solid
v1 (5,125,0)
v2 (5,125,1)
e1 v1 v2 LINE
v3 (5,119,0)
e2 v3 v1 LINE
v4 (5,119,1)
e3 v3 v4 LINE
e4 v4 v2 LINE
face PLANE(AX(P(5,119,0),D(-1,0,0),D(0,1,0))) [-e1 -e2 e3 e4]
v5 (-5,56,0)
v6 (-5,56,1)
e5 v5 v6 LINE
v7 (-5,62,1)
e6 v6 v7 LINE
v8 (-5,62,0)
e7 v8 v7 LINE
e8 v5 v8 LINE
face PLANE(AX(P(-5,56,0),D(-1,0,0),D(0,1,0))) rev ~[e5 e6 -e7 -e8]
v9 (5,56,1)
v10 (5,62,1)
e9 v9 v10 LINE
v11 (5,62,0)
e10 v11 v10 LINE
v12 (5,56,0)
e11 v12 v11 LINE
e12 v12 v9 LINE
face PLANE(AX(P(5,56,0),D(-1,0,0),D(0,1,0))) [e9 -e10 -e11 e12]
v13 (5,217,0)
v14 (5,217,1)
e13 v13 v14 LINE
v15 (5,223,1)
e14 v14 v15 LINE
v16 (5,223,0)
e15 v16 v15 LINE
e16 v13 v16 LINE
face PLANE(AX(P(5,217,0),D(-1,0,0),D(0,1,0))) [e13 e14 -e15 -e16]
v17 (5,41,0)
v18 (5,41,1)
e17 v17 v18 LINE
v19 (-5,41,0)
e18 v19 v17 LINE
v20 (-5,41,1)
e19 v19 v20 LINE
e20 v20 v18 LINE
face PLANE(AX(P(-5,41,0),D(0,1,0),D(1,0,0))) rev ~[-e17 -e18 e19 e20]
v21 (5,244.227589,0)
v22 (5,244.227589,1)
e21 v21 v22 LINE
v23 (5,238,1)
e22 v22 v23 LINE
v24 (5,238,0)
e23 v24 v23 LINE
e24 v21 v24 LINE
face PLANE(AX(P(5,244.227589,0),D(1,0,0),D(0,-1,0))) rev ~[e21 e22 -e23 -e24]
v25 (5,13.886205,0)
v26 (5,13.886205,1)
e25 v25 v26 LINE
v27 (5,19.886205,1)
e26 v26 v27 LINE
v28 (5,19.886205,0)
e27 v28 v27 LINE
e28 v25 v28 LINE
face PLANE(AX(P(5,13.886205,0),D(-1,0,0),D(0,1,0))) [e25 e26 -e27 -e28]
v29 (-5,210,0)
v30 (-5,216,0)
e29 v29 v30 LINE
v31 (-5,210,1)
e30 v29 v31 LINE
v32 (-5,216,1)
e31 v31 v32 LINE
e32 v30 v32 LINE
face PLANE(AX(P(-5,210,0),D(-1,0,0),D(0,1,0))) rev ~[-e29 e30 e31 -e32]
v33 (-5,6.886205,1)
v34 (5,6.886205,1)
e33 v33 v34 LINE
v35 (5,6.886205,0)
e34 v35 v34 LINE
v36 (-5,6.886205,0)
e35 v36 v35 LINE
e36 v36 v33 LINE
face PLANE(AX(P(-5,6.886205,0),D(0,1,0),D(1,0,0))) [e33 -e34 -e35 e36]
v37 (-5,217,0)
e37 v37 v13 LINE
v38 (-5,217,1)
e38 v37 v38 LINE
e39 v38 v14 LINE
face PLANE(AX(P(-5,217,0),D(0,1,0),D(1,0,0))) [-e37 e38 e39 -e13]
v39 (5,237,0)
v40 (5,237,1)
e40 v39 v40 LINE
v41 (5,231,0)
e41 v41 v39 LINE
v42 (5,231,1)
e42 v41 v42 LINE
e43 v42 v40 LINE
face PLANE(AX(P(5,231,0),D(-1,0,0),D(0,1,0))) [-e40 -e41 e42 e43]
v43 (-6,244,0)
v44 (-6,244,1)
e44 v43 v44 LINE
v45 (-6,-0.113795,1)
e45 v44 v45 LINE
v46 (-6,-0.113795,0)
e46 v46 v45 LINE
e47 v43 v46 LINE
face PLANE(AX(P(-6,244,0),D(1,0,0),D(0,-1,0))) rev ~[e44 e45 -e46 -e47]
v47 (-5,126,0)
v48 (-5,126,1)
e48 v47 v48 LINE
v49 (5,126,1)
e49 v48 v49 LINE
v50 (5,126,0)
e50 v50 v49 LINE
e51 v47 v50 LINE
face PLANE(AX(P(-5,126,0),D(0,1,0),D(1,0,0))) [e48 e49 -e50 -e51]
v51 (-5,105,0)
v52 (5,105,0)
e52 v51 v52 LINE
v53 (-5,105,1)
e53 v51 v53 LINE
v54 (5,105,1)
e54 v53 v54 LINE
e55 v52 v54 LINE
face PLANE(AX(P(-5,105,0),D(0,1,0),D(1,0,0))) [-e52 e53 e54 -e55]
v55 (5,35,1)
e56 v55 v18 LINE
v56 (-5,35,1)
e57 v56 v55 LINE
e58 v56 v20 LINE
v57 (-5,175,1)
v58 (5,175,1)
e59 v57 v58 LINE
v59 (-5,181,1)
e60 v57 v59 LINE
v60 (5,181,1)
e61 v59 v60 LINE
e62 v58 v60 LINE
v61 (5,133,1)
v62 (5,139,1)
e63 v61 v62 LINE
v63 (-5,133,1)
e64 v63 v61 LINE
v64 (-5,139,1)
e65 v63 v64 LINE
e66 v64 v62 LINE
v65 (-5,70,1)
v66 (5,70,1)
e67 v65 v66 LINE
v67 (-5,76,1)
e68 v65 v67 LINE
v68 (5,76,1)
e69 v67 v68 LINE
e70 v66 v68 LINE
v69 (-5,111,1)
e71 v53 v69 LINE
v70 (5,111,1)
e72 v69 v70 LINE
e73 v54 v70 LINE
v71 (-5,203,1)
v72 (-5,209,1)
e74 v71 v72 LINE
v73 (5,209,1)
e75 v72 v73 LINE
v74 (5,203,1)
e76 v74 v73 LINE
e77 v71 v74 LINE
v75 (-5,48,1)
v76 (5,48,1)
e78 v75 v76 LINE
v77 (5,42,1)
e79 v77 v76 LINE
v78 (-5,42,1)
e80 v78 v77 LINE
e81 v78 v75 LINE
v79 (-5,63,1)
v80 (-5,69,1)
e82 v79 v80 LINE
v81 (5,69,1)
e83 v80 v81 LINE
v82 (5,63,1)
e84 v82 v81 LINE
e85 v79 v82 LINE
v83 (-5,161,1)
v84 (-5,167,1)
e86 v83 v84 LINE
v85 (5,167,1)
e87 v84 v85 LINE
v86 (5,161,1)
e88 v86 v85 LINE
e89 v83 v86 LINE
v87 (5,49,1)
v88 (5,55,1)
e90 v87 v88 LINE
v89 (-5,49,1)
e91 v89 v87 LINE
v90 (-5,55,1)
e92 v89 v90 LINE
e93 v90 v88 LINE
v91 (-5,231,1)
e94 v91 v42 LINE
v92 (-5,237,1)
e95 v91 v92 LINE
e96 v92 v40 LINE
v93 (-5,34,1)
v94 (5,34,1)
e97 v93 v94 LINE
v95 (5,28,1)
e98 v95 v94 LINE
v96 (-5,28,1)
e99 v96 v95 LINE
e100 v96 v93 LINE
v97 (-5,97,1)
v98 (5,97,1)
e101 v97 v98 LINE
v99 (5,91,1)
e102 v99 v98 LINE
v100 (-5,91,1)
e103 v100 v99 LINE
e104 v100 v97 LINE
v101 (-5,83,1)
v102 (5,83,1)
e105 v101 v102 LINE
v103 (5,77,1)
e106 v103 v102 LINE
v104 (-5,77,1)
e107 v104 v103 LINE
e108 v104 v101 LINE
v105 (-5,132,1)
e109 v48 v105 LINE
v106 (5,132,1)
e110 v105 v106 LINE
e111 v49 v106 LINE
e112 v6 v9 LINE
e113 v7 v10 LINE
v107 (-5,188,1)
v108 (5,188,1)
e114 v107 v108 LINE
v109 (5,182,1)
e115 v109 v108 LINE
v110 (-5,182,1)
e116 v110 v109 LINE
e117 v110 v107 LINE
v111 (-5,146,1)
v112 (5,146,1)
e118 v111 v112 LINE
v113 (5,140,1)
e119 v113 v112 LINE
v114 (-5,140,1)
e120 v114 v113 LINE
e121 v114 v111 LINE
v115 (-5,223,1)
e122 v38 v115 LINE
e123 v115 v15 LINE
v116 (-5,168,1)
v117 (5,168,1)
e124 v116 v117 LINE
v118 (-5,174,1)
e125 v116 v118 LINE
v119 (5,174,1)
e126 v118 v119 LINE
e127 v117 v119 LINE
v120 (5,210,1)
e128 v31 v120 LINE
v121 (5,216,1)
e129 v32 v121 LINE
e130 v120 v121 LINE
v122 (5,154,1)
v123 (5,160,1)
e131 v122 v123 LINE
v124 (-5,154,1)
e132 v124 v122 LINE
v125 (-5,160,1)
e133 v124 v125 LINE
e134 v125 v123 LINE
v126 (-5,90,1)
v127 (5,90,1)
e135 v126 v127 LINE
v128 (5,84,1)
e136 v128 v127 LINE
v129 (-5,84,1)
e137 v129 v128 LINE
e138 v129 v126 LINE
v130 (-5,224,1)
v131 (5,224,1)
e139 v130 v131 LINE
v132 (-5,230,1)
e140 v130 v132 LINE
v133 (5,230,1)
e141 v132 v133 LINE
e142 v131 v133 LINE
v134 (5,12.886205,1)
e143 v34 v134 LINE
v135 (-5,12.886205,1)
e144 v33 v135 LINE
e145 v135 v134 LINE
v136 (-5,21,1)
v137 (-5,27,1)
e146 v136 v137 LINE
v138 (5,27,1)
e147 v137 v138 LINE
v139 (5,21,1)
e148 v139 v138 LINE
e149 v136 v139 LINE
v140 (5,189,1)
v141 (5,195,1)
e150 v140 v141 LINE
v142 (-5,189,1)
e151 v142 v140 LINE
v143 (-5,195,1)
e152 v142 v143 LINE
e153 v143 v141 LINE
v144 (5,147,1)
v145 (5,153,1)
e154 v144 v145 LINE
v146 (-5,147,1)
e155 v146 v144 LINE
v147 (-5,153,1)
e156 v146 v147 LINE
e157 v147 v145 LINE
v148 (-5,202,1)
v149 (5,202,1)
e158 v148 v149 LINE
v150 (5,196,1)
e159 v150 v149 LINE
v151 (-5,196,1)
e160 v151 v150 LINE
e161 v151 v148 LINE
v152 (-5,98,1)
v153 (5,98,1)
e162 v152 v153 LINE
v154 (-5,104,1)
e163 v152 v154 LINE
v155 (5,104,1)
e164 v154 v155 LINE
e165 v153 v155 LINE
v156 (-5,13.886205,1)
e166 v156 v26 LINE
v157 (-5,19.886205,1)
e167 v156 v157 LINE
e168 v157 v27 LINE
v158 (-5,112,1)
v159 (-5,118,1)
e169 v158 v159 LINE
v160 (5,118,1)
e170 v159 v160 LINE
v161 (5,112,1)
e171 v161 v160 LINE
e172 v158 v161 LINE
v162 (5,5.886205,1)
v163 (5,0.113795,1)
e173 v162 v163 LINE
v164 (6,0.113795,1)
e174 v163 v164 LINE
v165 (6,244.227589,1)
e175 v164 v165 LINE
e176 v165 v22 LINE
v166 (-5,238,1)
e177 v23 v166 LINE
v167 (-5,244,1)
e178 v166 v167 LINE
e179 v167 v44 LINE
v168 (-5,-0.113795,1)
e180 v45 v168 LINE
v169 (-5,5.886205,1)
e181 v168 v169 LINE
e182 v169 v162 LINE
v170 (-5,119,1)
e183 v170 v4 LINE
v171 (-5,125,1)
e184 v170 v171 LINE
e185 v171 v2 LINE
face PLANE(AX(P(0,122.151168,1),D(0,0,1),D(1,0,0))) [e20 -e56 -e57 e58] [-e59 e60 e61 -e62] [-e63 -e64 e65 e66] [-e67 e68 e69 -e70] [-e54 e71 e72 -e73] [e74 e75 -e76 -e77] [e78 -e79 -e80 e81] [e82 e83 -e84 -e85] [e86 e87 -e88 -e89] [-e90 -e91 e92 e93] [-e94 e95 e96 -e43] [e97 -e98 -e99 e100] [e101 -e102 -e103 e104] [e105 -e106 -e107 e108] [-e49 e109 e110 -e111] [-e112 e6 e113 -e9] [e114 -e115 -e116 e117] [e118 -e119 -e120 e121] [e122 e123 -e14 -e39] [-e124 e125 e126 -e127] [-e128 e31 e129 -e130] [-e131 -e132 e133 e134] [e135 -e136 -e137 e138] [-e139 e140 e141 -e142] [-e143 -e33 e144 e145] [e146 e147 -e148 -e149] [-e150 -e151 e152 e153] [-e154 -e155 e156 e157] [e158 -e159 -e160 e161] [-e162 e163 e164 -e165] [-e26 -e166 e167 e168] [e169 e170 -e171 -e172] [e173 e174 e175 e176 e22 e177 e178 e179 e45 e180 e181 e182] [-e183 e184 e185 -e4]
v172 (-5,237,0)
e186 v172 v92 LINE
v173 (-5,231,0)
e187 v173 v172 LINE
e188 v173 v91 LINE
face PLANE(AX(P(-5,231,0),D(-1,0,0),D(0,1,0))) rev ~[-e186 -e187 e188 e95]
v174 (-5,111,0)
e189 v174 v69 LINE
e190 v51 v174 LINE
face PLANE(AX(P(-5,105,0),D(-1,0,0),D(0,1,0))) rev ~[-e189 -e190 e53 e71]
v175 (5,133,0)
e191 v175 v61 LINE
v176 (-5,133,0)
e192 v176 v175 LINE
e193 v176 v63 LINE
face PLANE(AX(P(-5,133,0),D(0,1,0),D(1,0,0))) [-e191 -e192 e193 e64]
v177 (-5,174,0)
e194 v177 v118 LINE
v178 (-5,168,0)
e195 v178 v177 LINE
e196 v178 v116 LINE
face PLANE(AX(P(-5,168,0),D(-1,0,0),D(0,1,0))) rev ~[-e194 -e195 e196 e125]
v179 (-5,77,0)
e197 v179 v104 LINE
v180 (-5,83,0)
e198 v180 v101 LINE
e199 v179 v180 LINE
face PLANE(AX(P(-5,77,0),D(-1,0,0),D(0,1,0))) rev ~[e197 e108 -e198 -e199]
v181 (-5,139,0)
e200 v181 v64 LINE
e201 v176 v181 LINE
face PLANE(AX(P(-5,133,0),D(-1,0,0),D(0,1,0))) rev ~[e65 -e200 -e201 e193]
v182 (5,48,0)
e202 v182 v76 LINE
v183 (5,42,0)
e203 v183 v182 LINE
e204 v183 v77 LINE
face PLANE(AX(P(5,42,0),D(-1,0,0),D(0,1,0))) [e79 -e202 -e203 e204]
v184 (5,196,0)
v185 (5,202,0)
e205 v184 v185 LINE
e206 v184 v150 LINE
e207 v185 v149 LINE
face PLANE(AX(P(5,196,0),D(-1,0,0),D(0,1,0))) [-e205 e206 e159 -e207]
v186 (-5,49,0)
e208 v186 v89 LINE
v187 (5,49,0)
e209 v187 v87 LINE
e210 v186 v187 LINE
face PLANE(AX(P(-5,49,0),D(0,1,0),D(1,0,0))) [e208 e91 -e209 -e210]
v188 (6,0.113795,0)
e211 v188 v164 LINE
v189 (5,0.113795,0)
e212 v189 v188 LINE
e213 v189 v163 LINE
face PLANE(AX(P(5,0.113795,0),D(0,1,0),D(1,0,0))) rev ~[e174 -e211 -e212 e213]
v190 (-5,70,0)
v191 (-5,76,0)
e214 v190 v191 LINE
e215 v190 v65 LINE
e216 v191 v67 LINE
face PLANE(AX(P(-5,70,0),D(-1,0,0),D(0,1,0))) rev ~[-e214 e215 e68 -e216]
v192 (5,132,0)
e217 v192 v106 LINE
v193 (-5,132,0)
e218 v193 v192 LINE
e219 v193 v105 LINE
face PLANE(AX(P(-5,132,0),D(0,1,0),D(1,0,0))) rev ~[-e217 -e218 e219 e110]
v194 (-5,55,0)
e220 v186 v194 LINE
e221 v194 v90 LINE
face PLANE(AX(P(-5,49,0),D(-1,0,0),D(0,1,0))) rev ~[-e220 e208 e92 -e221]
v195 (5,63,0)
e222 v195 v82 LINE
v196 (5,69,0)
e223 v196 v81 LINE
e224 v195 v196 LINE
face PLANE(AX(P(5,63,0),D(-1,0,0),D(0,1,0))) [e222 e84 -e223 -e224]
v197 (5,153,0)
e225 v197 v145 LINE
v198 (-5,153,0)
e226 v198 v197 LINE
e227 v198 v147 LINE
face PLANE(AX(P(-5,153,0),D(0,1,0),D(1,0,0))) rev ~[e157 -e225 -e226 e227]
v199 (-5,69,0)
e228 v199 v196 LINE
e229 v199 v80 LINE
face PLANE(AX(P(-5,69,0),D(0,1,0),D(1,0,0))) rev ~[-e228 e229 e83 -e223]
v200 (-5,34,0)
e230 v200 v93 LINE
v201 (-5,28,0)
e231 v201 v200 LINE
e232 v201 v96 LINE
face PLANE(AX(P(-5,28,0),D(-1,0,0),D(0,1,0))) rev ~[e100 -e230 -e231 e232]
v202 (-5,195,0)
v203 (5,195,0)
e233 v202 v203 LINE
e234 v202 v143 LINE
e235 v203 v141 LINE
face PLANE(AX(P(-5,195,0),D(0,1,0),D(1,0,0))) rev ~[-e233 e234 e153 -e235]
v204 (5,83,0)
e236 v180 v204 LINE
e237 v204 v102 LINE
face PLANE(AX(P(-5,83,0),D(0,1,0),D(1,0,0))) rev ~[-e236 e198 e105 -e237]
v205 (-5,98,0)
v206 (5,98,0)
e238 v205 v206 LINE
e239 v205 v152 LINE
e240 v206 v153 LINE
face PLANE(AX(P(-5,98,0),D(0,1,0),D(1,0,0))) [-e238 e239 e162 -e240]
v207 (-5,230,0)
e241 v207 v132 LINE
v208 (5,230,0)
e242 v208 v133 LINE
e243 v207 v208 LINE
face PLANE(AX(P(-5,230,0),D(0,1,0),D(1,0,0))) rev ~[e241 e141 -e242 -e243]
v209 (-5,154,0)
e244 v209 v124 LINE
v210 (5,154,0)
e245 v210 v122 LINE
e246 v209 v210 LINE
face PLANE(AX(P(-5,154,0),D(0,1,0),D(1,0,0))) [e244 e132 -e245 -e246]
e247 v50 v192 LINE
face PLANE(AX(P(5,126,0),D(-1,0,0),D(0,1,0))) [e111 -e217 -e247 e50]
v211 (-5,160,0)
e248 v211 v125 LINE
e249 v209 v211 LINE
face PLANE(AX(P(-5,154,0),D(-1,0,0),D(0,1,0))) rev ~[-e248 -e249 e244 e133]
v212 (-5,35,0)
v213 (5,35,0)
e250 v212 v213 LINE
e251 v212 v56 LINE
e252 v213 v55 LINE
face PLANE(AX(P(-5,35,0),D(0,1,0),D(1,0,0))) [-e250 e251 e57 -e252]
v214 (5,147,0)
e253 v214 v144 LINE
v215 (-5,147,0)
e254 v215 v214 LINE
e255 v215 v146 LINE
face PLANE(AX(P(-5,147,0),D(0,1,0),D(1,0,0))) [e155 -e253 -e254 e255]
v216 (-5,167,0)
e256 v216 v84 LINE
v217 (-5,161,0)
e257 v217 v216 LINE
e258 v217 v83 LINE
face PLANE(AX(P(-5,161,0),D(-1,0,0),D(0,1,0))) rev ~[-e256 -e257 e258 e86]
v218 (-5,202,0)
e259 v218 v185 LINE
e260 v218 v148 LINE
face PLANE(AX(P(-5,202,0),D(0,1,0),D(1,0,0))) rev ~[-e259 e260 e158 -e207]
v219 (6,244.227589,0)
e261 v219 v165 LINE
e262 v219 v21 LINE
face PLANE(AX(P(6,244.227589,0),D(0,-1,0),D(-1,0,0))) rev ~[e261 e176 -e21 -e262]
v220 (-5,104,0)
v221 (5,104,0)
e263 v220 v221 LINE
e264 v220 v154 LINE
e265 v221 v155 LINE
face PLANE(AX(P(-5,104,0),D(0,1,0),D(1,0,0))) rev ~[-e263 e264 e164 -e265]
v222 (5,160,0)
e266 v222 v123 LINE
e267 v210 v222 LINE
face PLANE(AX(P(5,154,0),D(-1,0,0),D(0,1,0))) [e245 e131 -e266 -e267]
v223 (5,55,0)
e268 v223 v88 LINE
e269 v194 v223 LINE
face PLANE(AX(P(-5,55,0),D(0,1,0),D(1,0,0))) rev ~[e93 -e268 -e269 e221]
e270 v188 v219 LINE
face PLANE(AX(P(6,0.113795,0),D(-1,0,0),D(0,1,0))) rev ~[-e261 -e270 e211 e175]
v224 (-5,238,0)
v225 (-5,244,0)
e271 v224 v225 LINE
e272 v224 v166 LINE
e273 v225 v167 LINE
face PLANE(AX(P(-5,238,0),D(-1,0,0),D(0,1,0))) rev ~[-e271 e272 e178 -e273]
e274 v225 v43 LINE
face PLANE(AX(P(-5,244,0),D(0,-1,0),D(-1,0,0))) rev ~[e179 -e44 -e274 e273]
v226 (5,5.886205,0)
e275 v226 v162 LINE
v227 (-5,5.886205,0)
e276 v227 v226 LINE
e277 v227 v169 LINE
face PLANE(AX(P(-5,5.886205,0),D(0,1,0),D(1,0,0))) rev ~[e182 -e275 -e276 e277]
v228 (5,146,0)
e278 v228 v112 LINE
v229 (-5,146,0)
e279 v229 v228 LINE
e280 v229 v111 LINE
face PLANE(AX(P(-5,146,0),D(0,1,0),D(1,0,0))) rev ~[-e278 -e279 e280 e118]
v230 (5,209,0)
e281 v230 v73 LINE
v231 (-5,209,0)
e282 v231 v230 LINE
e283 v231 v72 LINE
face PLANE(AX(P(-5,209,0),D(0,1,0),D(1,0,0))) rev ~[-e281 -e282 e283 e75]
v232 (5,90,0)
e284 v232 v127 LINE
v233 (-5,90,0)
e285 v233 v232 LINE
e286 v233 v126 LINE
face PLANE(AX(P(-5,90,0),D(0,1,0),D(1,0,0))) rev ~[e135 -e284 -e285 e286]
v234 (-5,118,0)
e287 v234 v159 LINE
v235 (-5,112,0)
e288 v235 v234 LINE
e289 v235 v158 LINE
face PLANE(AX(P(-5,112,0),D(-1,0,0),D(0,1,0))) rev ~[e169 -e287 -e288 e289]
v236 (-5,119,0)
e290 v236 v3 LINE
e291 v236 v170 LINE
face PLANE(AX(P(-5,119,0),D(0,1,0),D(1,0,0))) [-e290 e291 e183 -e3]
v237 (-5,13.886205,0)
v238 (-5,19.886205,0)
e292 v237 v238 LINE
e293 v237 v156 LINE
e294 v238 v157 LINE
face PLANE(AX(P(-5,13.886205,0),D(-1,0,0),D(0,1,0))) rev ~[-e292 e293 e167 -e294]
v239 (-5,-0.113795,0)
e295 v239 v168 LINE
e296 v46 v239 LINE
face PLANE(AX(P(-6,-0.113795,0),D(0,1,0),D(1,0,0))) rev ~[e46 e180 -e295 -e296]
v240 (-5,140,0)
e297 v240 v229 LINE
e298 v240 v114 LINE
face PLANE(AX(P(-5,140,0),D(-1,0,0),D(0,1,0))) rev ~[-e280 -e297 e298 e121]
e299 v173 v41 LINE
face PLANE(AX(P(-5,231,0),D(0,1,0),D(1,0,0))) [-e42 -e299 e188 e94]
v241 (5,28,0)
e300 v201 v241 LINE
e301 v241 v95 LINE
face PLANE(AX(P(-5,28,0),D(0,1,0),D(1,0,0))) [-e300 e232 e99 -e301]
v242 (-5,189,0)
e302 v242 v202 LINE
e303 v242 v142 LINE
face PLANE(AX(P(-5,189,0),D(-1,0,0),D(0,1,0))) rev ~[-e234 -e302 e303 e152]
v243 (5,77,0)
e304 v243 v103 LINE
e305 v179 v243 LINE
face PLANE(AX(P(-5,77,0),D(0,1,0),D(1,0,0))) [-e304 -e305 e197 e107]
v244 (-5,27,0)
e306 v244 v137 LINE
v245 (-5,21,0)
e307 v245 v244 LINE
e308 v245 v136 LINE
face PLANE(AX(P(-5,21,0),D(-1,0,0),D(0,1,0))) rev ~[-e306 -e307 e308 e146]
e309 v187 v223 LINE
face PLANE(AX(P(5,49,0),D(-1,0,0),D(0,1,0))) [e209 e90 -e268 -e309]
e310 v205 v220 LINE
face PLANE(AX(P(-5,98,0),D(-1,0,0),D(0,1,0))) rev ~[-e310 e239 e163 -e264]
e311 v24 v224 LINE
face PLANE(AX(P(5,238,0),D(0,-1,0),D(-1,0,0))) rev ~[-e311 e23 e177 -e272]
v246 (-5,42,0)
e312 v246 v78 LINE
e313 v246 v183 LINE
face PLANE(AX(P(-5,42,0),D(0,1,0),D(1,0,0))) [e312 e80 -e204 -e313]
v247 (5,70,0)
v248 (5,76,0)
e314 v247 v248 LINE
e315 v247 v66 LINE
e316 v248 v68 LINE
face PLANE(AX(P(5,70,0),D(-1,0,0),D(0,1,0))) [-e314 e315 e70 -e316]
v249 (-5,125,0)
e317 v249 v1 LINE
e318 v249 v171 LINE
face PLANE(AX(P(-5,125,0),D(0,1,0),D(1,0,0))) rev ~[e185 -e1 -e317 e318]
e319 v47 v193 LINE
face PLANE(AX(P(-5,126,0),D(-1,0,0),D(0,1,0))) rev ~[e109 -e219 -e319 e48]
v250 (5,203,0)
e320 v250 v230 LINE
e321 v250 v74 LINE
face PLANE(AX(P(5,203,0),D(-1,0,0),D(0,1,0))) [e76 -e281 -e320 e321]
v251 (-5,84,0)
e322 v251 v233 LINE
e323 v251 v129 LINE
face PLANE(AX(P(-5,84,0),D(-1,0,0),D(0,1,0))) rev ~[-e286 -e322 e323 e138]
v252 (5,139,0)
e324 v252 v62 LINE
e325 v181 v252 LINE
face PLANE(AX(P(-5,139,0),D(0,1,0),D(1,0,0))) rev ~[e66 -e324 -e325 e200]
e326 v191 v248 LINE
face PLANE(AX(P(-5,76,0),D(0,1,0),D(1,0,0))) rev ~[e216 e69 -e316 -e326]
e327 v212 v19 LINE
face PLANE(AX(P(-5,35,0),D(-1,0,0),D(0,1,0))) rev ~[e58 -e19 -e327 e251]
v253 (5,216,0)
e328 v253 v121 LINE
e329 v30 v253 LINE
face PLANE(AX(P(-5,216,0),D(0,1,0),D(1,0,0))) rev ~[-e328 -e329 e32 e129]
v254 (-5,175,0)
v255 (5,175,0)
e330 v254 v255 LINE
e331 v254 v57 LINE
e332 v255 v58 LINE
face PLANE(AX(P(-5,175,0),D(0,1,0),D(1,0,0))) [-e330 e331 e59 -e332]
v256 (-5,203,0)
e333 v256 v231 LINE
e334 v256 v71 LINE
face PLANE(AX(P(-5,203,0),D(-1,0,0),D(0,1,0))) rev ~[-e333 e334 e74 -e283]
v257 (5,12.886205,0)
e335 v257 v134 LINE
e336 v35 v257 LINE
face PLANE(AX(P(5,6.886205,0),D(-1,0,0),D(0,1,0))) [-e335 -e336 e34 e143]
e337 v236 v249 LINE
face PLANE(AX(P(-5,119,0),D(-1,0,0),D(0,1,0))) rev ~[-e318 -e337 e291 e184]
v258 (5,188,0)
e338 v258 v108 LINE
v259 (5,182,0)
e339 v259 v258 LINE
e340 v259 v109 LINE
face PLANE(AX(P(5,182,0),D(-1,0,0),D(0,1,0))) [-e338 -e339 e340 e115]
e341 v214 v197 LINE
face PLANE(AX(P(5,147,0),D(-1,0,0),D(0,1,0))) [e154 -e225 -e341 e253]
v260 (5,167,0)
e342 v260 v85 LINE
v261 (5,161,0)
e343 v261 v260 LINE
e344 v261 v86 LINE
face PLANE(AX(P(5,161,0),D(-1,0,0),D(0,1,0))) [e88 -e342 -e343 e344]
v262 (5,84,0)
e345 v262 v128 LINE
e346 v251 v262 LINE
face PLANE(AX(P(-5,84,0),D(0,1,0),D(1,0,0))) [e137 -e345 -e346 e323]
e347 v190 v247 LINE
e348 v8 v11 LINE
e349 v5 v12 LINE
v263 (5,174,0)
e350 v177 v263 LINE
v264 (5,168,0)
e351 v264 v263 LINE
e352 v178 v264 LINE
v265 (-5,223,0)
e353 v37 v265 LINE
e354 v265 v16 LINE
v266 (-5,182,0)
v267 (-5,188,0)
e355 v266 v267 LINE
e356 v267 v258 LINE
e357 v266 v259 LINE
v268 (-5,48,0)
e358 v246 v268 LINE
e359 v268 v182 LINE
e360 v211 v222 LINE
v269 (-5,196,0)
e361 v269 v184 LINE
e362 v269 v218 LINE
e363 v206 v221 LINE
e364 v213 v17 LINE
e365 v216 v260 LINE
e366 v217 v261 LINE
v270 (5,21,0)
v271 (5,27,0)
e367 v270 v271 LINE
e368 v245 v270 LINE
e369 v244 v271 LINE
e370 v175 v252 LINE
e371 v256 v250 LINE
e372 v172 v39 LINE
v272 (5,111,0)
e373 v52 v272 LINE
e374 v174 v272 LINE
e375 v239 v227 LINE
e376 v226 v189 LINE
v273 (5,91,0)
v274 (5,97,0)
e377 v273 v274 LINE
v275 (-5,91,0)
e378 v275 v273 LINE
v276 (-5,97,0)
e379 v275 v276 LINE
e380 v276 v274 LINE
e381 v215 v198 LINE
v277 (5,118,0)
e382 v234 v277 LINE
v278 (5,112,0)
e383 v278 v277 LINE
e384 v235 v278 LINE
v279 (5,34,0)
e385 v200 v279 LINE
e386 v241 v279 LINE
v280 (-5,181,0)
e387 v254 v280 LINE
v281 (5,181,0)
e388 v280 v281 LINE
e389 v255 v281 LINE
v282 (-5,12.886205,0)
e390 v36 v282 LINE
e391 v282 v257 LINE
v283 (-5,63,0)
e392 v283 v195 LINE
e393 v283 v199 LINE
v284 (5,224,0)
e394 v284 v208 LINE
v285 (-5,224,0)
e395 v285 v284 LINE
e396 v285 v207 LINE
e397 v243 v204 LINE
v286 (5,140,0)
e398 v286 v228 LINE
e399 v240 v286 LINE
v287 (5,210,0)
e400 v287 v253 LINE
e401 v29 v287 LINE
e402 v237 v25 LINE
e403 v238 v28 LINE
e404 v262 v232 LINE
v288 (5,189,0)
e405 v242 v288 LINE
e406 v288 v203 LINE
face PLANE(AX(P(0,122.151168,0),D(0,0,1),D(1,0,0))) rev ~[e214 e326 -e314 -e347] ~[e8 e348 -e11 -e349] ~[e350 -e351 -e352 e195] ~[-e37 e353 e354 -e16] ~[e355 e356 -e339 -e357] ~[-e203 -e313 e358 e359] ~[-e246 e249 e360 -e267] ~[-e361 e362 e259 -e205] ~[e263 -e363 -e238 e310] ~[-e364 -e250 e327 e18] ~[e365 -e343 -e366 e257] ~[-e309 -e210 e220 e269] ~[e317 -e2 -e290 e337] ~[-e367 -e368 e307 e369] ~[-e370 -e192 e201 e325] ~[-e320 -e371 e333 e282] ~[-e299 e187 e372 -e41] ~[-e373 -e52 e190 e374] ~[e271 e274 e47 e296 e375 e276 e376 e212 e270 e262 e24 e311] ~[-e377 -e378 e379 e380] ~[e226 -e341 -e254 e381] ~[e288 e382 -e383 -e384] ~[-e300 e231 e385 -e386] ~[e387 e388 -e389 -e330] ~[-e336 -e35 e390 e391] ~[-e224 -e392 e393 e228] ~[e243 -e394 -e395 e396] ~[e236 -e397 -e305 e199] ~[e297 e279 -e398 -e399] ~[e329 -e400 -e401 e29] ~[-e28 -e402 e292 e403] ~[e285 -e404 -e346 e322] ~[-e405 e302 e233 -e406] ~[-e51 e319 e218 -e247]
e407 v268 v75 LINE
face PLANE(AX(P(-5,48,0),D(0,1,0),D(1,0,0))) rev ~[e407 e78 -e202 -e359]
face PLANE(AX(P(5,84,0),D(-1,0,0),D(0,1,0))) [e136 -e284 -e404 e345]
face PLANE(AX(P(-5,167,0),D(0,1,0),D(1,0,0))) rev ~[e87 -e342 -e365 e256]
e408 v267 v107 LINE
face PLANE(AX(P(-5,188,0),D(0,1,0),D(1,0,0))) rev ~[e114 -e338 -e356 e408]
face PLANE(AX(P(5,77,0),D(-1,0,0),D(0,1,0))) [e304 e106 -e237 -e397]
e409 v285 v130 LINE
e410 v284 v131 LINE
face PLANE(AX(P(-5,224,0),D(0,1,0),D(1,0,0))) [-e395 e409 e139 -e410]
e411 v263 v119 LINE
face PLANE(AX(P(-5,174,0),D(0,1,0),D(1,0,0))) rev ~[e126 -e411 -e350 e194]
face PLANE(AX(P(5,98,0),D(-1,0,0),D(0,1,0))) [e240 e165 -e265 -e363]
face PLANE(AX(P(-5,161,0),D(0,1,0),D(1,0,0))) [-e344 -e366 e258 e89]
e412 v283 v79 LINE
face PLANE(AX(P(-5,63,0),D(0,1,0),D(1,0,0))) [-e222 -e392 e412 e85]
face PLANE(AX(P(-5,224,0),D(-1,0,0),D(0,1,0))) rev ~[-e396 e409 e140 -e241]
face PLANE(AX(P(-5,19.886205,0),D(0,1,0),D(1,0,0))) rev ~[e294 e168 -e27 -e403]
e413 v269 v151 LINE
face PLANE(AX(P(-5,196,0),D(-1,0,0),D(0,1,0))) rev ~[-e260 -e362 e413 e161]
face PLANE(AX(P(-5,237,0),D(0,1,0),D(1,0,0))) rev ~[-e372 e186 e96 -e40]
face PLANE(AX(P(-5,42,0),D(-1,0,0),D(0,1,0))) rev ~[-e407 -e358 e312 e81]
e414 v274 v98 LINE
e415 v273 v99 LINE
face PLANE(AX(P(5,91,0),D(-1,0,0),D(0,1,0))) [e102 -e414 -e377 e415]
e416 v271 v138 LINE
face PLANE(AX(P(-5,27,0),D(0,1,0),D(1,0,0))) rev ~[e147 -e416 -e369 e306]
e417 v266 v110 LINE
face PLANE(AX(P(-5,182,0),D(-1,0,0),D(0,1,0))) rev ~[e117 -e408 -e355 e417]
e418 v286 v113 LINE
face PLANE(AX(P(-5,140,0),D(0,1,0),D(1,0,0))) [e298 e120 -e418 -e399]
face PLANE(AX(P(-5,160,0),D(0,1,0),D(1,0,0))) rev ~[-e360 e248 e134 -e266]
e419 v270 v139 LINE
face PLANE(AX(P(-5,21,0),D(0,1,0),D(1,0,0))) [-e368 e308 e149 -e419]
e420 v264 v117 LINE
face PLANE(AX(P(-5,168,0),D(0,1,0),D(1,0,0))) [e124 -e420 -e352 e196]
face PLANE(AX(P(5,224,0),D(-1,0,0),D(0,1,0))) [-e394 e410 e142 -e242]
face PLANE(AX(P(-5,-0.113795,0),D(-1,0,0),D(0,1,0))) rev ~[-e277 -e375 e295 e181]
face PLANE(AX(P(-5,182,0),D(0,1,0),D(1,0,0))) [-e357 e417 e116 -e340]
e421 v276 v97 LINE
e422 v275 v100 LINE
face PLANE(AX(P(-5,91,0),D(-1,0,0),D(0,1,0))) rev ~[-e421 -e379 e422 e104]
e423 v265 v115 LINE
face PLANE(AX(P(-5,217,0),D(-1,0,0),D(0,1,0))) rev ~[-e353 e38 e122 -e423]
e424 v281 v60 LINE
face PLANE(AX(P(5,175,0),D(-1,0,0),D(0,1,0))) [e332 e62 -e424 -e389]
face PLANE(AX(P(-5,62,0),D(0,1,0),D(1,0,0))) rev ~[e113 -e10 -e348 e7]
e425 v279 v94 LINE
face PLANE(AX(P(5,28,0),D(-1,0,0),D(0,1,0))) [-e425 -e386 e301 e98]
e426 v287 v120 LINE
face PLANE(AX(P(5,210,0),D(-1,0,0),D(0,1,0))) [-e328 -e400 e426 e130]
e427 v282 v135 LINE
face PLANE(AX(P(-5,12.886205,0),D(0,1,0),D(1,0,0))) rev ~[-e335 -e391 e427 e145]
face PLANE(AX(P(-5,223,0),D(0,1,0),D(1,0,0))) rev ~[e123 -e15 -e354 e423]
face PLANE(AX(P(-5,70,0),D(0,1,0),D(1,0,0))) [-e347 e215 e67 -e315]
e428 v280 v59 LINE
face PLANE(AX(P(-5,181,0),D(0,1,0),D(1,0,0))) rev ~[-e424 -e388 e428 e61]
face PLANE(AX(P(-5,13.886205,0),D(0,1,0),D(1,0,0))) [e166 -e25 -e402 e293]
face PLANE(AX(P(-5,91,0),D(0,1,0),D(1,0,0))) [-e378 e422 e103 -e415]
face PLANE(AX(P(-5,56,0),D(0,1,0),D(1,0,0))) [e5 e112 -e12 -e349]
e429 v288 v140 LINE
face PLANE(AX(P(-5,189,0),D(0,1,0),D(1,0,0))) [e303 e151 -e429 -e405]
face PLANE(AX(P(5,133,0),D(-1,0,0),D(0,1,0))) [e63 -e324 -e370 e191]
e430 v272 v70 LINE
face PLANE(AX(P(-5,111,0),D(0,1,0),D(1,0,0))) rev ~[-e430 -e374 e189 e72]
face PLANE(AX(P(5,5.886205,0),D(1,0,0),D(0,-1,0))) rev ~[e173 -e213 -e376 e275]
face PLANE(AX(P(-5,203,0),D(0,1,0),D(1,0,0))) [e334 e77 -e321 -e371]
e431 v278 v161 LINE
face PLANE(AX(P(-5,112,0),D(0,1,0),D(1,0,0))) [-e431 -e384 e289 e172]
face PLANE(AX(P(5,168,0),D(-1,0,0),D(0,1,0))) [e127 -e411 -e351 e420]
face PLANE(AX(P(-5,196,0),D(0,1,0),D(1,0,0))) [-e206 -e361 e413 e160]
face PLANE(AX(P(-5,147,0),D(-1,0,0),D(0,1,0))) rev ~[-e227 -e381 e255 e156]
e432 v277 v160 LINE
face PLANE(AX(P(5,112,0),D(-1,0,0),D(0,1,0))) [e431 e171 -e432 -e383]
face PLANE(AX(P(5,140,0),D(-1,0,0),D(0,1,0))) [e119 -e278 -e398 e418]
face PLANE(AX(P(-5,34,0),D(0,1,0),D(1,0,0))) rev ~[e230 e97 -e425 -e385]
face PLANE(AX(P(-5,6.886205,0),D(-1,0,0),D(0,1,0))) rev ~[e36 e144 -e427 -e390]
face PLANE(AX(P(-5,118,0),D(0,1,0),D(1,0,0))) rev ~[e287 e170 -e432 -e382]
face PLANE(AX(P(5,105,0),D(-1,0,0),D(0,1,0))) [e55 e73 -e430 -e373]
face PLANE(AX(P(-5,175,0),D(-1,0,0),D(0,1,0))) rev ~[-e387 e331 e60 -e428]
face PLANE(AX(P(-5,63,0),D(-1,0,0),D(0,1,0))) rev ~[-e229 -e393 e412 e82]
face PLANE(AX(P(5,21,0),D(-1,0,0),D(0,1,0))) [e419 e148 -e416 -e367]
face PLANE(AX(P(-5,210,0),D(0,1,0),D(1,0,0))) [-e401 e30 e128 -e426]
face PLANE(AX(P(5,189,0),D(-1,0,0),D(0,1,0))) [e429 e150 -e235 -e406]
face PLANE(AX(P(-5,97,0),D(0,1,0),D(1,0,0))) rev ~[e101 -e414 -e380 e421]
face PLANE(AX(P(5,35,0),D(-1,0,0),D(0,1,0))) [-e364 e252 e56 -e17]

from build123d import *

# Parameters (mm, degrees)
SKETCH_W  = 10
SKETCH_H  = 6
PAD_DEPTH = 1


with BuildPart() as part:
    # Sketch → Pad (new body)
    with BuildSketch(Plane.XY):
        Polygon((-5, 5.886205), (5, 5.886205), (5, 0.113795), (6, 0.113795), (6, 244.227589), (5, 244.227589), (5, 238), (-5, 238), (-5, 244), (-6, 244), (-6, -0.113795), (-5, -0.113795), align=None)
        with Locations((0, 16.886205)):
            Rectangle(SKETCH_W, SKETCH_H, mode=Mode.SUBTRACT)
        with Locations((0, 24)):
            Rectangle(SKETCH_W, SKETCH_H, mode=Mode.SUBTRACT)
        with Locations((0, 31)):
            Rectangle(SKETCH_W, SKETCH_H, mode=Mode.SUBTRACT)
        with Locations((0, 38)):
            Rectangle(SKETCH_W, SKETCH_H, mode=Mode.SUBTRACT)
        with Locations((0, 45)):
            Rectangle(SKETCH_W, SKETCH_H, mode=Mode.SUBTRACT)
        with Locations((0, 52)):
            Rectangle(SKETCH_W, SKETCH_H, mode=Mode.SUBTRACT)
        with Locations((0, 59)):
            Rectangle(SKETCH_W, SKETCH_H, mode=Mode.SUBTRACT)
        with Locations((0, 66)):
            Rectangle(SKETCH_W, SKETCH_H, mode=Mode.SUBTRACT)
        with Locations((0, 73)):
            Rectangle(SKETCH_W, SKETCH_H, mode=Mode.SUBTRACT)
        with Locations((0, 80)):
            Rectangle(SKETCH_W, SKETCH_H, mode=Mode.SUBTRACT)
        with Locations((0, 87)):
            Rectangle(SKETCH_W, SKETCH_H, mode=Mode.SUBTRACT)
        with Locations((0, 94)):
            Rectangle(SKETCH_W, SKETCH_H, mode=Mode.SUBTRACT)
        with Locations((0, 101)):
            Rectangle(SKETCH_W, SKETCH_H, mode=Mode.SUBTRACT)
        with Locations((0, 108)):
            Rectangle(SKETCH_W, SKETCH_H, mode=Mode.SUBTRACT)
        with Locations((0, 115)):
            Rectangle(SKETCH_W, SKETCH_H, mode=Mode.SUBTRACT)
        with Locations((0, 122)):
            Rectangle(SKETCH_W, SKETCH_H, mode=Mode.SUBTRACT)
        with Locations((0, 129)):
            Rectangle(SKETCH_W, SKETCH_H, mode=Mode.SUBTRACT)
        with Locations((0, 136)):
            Rectangle(SKETCH_W, SKETCH_H, mode=Mode.SUBTRACT)
        with Locations((0, 143)):
            Rectangle(SKETCH_W, SKETCH_H, mode=Mode.SUBTRACT)
        with Locations((0, 150)):
            Rectangle(SKETCH_W, SKETCH_H, mode=Mode.SUBTRACT)
        with Locations((0, 157)):
            Rectangle(SKETCH_W, SKETCH_H, mode=Mode.SUBTRACT)
        with Locations((0, 164)):
            Rectangle(SKETCH_W, SKETCH_H, mode=Mode.SUBTRACT)
        with Locations((0, 171)):
            Rectangle(SKETCH_W, SKETCH_H, mode=Mode.SUBTRACT)
        with Locations((0, 178)):
            Rectangle(SKETCH_W, SKETCH_H, mode=Mode.SUBTRACT)
        with Locations((0, 185)):
            Rectangle(SKETCH_W, SKETCH_H, mode=Mode.SUBTRACT)
        with Locations((0, 192)):
            Rectangle(SKETCH_W, SKETCH_H, mode=Mode.SUBTRACT)
        with Locations((0, 199)):
            Rectangle(SKETCH_W, SKETCH_H, mode=Mode.SUBTRACT)
        with Locations((0, 206)):
            Rectangle(SKETCH_W, SKETCH_H, mode=Mode.SUBTRACT)
        with Locations((0, 213)):
            Rectangle(SKETCH_W, SKETCH_H, mode=Mode.SUBTRACT)
        with Locations((0, 220)):
            Rectangle(SKETCH_W, SKETCH_H, mode=Mode.SUBTRACT)
        with Locations((0, 227)):
            Rectangle(SKETCH_W, SKETCH_H, mode=Mode.SUBTRACT)
        with Locations((0, 234)):
            Rectangle(SKETCH_W, SKETCH_H, mode=Mode.SUBTRACT)
        with Locations((0, 9.886205)):
            Rectangle(SKETCH_W, SKETCH_H, mode=Mode.SUBTRACT)
    extrude(amount=PAD_DEPTH)


solid = part.part
